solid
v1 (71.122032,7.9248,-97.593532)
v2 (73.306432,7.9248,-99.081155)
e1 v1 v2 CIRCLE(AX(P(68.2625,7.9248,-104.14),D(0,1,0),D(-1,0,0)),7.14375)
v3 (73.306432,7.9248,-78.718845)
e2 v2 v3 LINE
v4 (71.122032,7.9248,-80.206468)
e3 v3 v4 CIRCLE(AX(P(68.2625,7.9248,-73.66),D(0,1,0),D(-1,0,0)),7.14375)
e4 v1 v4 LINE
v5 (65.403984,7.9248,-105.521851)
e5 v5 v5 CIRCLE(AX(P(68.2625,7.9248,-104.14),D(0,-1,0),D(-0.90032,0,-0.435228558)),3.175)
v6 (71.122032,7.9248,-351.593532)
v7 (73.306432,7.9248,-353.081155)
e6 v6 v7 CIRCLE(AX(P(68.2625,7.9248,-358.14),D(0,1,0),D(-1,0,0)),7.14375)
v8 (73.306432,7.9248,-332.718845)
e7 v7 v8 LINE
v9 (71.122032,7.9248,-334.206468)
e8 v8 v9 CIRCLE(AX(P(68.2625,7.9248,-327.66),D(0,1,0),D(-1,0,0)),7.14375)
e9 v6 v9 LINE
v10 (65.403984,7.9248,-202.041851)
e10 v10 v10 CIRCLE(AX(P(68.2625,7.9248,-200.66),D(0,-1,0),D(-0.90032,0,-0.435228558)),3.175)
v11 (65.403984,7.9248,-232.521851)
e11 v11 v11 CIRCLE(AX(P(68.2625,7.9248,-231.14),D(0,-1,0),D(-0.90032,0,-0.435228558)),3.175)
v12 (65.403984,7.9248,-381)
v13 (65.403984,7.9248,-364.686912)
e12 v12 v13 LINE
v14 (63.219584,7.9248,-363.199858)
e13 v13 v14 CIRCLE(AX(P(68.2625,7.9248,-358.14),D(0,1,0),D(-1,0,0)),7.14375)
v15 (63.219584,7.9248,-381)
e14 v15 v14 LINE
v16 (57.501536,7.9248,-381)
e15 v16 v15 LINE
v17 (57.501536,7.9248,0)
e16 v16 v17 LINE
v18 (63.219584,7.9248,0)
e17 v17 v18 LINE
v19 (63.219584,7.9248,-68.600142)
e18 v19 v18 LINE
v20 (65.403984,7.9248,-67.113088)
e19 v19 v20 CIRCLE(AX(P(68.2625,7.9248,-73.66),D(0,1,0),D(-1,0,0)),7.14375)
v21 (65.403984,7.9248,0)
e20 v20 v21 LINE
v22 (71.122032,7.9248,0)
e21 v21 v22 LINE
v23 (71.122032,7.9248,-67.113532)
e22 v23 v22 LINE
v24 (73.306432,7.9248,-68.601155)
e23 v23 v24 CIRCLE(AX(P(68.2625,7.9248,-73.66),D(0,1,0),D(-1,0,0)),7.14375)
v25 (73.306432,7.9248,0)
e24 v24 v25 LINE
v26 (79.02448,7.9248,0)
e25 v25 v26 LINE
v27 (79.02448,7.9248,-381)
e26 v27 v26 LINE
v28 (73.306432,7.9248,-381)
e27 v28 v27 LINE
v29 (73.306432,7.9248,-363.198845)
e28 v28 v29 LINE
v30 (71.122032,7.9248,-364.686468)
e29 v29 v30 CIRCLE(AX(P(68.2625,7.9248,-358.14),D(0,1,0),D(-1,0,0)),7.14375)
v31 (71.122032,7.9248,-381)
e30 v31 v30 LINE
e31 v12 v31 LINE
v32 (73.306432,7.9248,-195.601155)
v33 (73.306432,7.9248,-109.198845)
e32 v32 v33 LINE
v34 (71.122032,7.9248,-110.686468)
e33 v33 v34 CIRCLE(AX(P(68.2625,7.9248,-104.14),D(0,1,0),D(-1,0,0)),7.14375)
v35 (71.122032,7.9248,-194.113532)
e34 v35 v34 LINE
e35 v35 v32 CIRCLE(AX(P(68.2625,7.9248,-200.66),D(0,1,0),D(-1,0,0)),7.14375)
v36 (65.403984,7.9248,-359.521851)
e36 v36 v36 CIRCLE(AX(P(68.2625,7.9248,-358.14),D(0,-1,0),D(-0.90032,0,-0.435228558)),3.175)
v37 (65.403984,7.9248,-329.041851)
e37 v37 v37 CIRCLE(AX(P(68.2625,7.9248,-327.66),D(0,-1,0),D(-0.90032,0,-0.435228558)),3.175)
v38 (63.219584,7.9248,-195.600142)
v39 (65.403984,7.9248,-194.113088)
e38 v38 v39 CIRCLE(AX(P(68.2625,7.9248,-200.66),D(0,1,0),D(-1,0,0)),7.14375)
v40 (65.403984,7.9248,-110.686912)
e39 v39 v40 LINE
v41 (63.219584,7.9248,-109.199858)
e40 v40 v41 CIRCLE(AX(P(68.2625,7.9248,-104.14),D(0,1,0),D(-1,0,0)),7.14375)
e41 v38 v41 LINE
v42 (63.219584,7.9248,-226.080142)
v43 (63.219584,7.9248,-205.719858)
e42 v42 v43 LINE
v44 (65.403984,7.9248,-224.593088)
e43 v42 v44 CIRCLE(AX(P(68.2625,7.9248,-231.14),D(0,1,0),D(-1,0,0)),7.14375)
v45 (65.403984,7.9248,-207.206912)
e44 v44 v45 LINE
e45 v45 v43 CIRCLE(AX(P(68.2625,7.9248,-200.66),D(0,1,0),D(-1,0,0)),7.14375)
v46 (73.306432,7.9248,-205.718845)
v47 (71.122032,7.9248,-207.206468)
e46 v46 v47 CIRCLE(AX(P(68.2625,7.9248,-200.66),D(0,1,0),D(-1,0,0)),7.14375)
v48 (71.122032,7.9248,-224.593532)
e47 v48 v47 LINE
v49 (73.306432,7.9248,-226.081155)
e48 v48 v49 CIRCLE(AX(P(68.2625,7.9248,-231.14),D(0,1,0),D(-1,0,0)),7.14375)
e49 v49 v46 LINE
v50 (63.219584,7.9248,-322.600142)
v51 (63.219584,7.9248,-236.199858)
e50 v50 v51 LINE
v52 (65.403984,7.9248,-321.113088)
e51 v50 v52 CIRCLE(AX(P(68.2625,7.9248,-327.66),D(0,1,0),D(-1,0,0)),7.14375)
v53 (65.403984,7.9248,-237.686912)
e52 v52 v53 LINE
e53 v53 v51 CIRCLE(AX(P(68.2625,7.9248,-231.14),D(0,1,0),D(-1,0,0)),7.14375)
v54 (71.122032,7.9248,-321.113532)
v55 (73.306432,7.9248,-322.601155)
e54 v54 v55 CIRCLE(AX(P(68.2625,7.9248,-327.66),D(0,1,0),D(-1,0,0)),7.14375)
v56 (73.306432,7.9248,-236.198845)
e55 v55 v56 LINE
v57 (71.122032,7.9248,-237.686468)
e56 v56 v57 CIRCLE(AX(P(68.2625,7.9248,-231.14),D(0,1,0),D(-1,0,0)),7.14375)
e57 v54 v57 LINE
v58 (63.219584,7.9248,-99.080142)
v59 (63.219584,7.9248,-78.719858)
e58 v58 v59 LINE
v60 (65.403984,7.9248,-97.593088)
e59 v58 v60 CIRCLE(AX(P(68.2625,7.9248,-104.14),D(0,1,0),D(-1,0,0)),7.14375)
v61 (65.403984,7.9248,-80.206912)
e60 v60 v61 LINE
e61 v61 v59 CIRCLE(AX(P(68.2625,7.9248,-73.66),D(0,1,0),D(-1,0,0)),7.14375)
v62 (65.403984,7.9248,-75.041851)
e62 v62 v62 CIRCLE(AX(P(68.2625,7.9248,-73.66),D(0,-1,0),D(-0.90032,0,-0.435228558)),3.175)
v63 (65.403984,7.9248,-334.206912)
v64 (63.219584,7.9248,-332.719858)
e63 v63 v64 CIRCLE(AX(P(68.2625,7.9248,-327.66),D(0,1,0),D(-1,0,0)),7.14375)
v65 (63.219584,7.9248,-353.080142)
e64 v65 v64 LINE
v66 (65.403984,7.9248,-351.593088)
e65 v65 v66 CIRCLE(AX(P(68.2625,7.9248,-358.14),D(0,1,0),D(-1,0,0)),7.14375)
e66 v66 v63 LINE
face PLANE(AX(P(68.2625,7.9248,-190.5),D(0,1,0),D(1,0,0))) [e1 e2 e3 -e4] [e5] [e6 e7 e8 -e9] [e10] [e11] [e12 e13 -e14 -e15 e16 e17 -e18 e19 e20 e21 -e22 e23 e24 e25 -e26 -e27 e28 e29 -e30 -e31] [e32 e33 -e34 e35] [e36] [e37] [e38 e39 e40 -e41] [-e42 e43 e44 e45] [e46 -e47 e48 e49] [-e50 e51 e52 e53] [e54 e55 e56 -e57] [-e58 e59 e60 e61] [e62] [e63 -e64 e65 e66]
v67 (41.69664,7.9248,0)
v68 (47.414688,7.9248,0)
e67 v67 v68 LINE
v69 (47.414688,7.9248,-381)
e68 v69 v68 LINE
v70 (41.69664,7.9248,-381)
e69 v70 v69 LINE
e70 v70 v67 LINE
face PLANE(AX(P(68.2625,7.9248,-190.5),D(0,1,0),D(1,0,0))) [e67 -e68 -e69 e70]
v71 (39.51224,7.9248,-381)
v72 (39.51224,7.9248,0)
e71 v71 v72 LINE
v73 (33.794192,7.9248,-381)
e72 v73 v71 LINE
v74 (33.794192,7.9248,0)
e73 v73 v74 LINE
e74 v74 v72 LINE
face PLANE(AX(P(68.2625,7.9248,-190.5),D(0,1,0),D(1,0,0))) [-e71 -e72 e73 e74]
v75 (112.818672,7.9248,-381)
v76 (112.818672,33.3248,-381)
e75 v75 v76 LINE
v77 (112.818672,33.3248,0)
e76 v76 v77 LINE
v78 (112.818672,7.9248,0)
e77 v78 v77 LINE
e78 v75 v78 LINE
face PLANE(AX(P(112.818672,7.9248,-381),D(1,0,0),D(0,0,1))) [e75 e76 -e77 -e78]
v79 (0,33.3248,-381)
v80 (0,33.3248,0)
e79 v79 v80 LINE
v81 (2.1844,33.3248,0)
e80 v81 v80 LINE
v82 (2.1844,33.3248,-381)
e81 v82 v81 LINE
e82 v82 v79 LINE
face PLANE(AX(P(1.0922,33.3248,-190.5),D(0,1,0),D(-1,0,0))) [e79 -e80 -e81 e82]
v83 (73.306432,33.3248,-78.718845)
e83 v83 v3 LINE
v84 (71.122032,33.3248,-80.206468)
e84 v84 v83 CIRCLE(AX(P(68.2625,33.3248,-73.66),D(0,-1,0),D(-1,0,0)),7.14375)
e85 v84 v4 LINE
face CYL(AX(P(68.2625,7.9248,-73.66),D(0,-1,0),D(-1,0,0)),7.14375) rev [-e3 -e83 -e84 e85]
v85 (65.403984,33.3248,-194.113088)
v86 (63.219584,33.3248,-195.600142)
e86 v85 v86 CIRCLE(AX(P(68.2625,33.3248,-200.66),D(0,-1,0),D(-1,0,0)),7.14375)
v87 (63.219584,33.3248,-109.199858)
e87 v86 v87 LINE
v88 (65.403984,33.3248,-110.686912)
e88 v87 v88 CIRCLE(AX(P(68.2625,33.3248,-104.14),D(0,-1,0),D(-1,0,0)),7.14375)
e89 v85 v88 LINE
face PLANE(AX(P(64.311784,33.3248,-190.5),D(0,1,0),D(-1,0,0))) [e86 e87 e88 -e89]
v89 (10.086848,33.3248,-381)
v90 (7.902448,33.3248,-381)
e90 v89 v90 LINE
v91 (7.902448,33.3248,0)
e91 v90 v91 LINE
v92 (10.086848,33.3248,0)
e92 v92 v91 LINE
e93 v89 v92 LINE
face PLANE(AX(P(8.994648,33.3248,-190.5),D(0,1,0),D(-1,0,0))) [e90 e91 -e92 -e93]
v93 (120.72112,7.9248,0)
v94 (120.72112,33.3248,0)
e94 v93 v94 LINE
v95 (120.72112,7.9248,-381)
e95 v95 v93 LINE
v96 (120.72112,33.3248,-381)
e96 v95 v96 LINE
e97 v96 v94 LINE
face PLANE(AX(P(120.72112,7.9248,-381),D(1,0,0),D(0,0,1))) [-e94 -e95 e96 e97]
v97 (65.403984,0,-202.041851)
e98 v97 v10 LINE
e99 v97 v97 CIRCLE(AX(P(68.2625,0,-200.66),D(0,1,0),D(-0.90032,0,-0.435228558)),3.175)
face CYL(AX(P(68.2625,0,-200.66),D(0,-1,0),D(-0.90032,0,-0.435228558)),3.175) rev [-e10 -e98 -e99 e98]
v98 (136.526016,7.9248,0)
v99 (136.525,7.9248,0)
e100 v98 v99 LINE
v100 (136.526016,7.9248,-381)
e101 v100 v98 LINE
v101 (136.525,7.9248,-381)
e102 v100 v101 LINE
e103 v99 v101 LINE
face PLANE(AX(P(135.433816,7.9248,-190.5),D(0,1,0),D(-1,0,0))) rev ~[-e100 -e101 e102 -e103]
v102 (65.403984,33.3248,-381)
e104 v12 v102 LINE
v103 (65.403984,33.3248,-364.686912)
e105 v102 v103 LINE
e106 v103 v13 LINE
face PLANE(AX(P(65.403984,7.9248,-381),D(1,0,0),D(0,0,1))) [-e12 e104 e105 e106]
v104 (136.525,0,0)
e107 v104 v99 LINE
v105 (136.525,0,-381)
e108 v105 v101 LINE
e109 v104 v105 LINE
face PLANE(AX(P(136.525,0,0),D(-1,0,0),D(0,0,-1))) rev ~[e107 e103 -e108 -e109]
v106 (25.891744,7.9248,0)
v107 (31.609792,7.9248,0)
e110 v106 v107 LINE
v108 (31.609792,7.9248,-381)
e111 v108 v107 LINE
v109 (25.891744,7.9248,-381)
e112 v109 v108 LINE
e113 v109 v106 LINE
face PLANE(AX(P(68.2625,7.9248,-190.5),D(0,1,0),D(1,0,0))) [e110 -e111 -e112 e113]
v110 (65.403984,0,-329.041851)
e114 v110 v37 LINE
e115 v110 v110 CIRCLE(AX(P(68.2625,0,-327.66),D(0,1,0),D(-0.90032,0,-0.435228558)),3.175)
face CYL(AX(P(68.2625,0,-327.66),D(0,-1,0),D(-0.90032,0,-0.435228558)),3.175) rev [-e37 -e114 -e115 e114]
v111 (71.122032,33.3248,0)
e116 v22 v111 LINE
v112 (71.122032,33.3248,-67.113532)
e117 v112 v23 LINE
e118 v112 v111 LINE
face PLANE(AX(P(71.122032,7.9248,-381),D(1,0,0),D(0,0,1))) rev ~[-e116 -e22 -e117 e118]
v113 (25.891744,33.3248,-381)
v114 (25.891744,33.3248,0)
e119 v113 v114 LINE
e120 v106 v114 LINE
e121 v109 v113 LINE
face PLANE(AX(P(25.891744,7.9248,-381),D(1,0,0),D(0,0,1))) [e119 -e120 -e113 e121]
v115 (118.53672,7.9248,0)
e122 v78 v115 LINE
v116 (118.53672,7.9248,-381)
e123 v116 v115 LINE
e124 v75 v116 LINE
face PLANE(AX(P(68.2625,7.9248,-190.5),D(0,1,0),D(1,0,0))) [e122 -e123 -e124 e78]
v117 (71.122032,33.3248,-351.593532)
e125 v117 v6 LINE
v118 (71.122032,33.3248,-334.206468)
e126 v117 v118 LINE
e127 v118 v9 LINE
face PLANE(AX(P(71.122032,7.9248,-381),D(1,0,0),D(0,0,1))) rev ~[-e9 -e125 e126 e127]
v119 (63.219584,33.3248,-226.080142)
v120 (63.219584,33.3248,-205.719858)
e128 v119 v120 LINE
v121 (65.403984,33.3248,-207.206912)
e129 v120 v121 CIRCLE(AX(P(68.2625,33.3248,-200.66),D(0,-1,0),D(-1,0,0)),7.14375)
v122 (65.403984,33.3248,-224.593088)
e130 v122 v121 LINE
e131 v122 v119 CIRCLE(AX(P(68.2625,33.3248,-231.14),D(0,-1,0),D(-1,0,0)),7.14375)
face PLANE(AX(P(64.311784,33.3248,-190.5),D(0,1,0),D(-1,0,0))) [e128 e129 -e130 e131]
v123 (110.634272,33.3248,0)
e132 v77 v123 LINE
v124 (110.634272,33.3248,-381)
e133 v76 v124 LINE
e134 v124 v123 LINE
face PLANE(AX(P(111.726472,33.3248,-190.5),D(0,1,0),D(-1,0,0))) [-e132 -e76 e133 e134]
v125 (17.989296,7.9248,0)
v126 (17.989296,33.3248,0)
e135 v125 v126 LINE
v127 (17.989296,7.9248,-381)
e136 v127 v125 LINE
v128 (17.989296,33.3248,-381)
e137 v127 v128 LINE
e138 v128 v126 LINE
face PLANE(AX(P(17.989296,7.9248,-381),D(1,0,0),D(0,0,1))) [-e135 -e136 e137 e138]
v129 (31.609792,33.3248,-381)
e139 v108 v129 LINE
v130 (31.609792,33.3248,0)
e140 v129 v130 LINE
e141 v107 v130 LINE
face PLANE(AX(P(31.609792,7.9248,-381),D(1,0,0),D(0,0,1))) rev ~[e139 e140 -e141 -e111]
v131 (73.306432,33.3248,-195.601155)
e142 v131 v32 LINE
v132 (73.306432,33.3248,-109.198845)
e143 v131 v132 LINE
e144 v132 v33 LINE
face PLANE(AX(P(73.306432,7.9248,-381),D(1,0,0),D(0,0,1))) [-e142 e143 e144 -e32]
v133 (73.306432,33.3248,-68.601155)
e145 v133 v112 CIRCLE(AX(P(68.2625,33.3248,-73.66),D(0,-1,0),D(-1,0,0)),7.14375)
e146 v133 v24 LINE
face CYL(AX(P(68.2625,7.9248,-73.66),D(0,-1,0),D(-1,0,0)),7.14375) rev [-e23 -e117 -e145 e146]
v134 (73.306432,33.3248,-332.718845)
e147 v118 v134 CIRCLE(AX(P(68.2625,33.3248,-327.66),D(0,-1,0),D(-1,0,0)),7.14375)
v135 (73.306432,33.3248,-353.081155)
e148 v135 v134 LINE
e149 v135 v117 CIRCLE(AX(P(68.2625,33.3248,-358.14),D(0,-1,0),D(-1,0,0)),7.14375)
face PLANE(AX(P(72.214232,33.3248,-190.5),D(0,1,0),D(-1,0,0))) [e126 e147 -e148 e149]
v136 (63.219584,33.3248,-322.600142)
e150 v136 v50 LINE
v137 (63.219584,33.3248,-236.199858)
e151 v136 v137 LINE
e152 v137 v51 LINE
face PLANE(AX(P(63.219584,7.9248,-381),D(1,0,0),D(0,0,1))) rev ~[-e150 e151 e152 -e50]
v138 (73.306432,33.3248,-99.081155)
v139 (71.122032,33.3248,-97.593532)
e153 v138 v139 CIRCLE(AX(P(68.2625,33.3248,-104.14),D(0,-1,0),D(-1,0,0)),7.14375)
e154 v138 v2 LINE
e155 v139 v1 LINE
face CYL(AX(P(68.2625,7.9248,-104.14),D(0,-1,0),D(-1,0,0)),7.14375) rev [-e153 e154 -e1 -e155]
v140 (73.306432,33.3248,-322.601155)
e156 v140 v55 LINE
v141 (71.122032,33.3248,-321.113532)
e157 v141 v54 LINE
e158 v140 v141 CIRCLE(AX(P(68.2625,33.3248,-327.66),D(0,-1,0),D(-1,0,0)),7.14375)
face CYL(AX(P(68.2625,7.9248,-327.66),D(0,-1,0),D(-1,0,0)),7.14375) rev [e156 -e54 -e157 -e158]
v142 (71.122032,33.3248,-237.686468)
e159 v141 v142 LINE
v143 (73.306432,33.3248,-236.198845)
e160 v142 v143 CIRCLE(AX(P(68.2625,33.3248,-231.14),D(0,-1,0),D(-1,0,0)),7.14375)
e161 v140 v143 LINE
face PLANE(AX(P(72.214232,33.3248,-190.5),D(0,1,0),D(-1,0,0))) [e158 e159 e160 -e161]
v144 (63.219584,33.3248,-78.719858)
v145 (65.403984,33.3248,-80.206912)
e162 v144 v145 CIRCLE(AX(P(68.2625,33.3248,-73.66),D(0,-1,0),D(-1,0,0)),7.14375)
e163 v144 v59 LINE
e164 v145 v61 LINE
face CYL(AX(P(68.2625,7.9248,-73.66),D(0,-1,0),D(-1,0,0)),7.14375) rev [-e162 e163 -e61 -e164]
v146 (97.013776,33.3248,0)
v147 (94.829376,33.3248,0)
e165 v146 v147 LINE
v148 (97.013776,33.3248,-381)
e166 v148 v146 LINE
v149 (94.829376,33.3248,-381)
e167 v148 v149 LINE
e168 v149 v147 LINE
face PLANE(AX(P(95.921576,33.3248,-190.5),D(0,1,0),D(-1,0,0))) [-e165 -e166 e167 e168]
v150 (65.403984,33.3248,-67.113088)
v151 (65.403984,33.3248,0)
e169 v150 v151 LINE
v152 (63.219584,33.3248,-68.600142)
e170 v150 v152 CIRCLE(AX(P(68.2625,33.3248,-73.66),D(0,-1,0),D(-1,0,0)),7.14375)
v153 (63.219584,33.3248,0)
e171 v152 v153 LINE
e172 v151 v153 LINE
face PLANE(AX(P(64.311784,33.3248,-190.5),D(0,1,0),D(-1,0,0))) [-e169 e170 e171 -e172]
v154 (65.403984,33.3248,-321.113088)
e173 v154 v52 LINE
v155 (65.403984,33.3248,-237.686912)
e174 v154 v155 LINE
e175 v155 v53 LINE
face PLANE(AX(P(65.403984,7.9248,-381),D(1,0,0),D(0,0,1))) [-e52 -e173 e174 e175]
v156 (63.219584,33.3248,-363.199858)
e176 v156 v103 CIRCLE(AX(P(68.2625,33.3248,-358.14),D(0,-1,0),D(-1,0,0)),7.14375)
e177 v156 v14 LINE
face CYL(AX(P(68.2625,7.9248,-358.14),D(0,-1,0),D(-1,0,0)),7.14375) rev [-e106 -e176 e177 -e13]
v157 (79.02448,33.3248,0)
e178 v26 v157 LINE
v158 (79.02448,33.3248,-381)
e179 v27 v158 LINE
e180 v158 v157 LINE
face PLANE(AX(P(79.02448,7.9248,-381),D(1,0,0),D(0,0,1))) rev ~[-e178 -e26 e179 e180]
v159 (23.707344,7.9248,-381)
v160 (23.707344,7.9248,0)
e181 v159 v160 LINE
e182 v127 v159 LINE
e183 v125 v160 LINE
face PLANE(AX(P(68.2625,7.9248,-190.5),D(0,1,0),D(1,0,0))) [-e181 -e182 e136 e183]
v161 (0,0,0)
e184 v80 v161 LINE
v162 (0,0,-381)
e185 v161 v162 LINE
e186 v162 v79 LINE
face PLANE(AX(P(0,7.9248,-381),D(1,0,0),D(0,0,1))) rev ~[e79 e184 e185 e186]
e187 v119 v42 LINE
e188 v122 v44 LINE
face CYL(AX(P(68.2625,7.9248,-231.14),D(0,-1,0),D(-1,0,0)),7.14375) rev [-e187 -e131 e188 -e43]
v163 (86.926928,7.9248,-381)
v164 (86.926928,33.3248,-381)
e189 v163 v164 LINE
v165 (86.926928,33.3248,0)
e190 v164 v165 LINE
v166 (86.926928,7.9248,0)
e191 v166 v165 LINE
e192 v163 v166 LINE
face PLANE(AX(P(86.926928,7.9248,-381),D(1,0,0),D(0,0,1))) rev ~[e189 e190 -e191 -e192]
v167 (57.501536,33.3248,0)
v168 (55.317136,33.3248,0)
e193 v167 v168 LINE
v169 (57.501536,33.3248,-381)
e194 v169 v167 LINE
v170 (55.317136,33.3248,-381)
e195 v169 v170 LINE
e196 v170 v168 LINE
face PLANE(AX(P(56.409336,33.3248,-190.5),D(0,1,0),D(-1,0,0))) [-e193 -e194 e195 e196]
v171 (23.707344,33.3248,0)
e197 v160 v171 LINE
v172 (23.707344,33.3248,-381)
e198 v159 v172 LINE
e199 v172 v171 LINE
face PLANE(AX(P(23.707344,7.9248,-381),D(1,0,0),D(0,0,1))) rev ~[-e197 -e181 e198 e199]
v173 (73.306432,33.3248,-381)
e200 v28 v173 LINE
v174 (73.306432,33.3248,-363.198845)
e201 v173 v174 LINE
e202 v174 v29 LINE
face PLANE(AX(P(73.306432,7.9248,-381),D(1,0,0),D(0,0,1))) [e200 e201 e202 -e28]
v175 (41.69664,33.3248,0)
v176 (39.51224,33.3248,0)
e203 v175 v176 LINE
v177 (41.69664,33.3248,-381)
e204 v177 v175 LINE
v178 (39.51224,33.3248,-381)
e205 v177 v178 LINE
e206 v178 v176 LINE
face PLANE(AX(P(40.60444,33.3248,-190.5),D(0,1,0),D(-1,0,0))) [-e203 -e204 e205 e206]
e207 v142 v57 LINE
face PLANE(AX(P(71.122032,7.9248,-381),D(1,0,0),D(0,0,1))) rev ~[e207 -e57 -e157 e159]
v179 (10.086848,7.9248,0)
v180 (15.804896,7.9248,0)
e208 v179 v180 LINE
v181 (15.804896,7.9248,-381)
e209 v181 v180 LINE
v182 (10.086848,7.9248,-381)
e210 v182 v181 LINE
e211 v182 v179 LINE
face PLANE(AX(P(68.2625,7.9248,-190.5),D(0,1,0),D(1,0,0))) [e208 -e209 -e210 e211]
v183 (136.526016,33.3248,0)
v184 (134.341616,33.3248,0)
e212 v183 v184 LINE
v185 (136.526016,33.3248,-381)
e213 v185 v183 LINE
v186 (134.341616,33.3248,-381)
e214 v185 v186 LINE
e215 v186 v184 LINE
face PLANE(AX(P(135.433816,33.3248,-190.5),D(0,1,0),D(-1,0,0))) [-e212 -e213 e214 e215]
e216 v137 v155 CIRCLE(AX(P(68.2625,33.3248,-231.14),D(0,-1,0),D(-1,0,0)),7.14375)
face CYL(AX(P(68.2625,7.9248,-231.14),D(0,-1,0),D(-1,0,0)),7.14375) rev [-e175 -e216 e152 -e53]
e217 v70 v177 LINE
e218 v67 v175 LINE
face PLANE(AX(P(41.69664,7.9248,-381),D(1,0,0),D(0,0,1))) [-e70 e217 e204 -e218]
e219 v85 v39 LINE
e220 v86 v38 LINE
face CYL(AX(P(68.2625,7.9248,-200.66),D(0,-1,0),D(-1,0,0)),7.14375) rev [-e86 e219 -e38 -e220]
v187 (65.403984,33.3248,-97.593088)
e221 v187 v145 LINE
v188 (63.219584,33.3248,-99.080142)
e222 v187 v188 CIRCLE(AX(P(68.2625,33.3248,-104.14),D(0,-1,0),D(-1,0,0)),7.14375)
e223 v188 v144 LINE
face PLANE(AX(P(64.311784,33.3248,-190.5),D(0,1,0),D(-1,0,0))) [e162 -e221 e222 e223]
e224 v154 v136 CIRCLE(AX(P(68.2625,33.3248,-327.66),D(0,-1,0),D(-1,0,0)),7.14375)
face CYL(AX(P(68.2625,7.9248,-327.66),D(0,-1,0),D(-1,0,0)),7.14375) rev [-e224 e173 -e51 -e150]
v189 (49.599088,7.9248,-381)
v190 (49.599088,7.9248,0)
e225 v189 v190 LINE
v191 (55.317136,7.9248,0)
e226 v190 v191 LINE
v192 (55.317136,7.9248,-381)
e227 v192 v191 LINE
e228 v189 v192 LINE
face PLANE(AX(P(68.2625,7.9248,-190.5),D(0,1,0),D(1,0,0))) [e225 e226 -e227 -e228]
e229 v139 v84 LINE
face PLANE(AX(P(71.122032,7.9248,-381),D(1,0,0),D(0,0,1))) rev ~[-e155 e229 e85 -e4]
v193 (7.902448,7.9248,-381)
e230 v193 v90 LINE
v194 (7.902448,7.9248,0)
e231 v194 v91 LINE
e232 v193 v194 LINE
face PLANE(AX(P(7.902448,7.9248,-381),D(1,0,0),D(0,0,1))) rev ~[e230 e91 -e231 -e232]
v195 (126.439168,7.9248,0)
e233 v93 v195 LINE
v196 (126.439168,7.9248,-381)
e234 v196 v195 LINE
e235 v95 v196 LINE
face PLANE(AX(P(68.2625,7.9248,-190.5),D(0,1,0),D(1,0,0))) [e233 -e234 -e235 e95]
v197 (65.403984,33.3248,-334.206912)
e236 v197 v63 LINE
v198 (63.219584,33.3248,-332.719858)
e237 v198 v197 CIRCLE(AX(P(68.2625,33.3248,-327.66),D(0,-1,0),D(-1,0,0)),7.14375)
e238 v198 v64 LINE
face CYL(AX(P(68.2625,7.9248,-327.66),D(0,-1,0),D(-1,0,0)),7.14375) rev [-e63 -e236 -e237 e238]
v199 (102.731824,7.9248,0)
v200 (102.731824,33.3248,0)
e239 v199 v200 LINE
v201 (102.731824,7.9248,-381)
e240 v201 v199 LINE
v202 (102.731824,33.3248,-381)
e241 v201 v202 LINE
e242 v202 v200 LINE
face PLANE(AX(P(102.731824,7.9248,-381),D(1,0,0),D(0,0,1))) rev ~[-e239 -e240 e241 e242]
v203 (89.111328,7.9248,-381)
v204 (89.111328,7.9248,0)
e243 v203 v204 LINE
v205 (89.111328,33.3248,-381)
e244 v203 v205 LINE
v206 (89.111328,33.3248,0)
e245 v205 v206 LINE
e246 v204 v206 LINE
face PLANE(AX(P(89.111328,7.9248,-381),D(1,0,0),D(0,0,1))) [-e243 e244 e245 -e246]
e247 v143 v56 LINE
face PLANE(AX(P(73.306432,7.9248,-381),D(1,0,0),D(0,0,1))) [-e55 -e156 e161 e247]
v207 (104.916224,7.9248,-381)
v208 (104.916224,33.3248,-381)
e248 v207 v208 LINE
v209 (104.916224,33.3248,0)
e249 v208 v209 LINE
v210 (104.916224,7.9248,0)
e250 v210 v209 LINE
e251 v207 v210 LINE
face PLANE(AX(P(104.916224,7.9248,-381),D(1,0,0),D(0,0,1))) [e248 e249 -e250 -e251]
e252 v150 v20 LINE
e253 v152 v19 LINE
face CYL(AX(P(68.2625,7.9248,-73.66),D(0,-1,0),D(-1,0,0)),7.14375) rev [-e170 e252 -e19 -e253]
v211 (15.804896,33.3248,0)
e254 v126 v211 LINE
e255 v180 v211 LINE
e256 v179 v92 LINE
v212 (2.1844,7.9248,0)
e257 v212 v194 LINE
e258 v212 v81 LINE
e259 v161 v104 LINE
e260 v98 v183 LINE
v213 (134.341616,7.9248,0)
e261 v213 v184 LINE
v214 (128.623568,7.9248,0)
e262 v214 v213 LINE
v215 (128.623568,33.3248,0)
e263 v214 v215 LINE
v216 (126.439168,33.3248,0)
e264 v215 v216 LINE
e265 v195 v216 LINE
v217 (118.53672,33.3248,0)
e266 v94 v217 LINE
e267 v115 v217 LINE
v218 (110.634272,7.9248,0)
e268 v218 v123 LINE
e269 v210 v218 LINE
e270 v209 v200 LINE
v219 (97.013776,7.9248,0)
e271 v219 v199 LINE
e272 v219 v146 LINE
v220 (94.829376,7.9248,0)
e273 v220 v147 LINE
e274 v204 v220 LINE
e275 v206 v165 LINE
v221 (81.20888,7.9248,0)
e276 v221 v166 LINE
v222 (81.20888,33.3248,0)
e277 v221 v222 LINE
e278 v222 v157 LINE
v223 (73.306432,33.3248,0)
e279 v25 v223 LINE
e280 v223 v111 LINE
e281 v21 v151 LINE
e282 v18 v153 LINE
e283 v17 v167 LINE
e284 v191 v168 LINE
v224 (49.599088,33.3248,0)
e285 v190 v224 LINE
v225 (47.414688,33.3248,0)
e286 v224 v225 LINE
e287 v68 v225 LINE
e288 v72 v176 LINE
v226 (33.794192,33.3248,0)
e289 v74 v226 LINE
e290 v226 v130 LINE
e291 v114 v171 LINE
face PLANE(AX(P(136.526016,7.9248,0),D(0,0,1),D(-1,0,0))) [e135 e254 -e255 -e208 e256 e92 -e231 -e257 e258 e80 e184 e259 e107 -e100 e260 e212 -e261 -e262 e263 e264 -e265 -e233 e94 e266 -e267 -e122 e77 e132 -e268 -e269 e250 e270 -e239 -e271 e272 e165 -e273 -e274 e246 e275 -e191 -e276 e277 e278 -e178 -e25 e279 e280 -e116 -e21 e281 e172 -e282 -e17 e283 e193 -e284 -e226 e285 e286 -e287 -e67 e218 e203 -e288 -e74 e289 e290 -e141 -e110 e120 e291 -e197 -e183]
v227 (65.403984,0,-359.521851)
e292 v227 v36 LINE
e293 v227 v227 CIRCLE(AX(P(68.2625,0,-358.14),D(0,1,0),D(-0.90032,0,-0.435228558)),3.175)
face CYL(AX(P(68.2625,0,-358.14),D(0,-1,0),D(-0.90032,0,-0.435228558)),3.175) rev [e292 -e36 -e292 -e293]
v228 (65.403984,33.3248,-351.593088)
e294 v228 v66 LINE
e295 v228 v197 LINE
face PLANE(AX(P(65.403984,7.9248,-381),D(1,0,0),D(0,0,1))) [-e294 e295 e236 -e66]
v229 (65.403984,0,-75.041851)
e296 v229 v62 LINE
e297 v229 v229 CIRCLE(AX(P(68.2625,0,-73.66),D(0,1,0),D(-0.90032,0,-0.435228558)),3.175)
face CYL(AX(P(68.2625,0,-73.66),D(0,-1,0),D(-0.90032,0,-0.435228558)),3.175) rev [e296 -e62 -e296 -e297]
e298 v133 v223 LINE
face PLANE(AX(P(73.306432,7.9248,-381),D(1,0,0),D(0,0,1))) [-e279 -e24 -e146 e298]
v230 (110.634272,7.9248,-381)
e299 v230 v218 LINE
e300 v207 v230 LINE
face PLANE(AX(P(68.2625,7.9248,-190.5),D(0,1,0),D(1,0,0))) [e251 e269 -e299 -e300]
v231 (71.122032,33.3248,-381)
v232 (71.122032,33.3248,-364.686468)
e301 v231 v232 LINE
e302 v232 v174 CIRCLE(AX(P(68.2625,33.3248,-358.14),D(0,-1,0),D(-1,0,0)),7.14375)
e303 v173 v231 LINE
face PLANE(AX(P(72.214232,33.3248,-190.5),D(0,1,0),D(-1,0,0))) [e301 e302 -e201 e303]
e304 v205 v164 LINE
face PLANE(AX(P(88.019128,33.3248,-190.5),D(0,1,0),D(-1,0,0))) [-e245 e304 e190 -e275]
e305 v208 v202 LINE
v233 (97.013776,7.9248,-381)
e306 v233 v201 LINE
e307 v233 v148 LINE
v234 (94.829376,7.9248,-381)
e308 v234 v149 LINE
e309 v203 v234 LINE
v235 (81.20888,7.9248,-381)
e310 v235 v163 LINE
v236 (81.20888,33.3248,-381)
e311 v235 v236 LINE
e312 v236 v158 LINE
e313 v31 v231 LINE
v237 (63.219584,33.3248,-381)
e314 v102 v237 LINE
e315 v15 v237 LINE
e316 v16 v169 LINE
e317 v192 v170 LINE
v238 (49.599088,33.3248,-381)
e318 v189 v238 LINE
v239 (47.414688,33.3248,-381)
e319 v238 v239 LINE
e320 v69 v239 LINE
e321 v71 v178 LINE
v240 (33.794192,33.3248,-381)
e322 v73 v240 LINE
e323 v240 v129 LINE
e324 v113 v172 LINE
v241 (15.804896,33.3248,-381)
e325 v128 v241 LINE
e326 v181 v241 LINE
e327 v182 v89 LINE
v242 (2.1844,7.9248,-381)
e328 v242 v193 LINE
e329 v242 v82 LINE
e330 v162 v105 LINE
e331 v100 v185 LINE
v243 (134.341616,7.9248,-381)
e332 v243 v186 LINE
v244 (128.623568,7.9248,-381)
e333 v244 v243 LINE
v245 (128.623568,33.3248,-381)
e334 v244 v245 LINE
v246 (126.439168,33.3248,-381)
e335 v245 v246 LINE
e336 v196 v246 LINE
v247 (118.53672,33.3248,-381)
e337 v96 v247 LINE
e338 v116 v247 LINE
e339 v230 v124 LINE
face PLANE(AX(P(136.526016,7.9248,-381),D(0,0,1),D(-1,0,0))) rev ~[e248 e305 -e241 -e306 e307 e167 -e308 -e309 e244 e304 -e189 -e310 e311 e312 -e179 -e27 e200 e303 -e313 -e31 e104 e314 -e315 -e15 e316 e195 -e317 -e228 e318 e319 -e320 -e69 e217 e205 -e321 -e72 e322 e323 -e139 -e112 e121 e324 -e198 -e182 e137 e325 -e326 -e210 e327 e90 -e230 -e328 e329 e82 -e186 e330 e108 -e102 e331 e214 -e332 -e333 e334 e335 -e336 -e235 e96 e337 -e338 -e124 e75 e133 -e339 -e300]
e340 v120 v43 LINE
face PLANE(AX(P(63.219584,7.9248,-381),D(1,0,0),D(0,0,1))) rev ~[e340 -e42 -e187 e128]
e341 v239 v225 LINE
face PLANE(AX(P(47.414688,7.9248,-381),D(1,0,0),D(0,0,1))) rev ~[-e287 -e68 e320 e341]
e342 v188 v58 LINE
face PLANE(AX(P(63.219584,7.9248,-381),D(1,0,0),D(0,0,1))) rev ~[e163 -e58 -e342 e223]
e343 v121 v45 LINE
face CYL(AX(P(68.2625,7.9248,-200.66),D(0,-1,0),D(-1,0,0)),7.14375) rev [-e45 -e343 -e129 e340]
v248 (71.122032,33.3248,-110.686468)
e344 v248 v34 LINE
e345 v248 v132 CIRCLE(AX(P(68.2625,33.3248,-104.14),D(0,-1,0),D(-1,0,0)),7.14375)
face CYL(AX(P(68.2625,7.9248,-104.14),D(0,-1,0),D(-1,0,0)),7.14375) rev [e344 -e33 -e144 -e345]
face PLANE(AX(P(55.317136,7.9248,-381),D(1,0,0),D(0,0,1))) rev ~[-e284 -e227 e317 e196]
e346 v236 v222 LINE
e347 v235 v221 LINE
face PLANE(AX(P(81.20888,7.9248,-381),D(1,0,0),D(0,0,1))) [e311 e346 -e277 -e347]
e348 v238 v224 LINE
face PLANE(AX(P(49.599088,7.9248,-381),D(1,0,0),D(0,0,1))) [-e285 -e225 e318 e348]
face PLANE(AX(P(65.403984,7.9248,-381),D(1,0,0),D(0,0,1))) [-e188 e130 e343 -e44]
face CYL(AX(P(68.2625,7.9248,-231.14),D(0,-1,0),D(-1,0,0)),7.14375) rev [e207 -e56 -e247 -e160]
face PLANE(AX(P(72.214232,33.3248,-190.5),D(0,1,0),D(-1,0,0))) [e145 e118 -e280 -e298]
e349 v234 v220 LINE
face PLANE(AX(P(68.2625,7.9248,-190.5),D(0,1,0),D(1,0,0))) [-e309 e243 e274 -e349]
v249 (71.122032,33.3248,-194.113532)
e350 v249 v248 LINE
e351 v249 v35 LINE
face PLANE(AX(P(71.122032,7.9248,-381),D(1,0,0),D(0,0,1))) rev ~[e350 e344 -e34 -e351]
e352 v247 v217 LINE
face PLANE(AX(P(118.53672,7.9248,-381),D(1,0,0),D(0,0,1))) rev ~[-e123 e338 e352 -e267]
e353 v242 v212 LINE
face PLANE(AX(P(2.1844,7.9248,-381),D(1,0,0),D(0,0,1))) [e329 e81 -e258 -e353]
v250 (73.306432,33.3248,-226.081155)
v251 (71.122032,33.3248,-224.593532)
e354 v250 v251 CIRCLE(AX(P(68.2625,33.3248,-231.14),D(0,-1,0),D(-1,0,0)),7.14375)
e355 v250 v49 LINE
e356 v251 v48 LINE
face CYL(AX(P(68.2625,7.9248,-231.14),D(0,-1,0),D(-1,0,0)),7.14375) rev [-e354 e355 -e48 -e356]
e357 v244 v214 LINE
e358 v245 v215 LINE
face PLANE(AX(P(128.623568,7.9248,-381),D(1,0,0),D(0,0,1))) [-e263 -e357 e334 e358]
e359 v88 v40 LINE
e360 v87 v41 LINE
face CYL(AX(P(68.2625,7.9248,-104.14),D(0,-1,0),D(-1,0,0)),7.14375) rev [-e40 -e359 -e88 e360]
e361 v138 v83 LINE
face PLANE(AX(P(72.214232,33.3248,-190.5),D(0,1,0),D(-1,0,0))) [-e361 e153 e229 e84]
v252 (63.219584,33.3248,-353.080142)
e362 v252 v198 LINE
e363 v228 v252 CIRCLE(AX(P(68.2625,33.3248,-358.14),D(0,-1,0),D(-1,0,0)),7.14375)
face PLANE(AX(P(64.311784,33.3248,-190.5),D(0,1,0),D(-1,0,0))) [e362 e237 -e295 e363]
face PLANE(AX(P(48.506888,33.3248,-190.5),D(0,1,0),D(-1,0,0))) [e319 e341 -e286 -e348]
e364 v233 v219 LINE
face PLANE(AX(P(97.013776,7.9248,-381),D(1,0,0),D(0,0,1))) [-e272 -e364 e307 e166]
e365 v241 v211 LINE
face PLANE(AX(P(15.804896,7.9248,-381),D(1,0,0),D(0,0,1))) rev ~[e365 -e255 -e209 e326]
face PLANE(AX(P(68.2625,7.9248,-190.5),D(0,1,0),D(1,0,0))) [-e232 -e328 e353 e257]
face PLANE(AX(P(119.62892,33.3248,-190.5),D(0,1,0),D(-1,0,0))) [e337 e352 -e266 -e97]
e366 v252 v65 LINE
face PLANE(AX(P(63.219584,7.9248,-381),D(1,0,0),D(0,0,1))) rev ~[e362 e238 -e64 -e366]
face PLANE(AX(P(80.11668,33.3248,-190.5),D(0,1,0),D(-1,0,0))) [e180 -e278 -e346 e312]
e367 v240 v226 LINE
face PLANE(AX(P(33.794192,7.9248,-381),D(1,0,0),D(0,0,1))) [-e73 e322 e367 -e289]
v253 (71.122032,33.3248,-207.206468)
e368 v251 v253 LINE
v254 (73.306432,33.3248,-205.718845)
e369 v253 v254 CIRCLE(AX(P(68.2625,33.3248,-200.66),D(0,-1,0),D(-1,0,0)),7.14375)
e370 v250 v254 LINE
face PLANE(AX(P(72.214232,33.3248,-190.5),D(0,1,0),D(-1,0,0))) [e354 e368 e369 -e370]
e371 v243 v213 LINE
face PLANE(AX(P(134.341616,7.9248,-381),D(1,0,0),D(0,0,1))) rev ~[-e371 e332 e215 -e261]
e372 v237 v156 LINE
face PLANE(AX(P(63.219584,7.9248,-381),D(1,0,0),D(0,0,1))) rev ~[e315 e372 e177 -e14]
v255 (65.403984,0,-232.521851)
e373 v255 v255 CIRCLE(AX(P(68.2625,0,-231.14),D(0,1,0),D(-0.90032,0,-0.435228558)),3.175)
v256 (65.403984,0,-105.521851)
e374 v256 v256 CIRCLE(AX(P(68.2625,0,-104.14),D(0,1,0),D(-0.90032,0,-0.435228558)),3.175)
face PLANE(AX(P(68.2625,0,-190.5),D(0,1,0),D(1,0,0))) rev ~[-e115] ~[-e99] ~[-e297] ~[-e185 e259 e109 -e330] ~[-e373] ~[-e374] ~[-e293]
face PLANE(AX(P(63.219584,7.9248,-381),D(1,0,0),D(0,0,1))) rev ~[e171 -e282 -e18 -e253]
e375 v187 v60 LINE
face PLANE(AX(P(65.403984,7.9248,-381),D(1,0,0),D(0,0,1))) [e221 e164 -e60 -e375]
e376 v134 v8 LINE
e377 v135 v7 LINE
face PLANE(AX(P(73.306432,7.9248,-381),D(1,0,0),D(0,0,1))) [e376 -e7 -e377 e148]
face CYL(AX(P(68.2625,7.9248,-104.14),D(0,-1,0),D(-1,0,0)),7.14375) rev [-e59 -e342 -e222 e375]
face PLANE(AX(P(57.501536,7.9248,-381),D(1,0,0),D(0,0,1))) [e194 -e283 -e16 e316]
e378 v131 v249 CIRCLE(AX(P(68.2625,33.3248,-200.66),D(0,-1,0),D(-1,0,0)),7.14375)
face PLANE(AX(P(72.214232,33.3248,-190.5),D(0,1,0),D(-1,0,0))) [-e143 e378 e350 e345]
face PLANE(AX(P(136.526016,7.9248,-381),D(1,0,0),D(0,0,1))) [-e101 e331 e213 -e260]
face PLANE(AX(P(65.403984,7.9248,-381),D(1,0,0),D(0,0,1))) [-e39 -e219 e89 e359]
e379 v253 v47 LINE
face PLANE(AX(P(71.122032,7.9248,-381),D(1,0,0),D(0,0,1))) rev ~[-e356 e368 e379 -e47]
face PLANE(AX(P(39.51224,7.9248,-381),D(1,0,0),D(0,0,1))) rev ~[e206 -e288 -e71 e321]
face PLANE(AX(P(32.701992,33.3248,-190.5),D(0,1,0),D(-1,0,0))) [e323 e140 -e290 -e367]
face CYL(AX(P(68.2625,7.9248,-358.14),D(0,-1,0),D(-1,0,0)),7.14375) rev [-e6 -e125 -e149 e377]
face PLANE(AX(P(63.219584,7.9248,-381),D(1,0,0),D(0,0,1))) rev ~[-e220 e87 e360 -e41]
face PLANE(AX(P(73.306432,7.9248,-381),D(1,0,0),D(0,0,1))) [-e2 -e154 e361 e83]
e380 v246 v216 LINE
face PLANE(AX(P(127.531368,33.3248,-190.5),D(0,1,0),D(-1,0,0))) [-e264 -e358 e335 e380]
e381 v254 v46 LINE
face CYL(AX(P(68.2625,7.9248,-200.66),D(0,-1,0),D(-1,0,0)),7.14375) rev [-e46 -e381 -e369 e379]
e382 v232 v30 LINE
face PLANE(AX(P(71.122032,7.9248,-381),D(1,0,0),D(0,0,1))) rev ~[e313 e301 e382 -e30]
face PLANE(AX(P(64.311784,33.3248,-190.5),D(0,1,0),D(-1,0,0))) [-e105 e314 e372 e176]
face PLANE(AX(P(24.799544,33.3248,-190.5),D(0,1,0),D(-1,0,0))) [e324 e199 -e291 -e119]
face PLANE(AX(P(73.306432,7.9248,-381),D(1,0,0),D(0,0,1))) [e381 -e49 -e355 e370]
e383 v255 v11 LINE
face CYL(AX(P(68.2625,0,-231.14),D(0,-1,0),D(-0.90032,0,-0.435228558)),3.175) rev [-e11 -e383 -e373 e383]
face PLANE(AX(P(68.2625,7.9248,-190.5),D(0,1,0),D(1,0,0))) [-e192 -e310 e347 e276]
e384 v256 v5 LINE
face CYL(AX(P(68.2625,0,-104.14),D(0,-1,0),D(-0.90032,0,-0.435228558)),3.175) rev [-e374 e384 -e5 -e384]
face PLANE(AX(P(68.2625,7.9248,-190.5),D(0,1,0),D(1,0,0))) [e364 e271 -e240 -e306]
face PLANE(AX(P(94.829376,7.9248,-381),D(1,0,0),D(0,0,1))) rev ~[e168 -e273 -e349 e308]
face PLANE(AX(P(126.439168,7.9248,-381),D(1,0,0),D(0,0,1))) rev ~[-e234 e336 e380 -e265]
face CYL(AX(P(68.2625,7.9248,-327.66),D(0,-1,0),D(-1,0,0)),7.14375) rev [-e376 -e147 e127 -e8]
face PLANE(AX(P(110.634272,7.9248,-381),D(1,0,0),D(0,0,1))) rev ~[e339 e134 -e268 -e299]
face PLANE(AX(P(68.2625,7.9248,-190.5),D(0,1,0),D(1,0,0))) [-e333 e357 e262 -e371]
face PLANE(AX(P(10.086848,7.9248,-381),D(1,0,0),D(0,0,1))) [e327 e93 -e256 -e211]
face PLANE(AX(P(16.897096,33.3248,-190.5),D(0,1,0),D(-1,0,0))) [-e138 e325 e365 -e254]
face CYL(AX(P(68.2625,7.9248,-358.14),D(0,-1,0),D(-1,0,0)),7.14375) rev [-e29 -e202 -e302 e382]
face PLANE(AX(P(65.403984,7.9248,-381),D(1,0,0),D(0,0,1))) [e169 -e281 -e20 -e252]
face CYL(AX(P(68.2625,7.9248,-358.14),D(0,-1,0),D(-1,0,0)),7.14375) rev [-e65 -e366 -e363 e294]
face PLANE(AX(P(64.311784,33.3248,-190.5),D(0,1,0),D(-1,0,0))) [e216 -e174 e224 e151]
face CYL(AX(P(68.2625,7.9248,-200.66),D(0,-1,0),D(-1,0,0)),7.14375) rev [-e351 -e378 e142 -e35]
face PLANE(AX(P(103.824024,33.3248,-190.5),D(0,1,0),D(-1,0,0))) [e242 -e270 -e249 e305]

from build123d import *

# Parameters (mm, degrees)
SKETCH1_W          = 136.525
SKETCH1_H          = 381
EXTRUDE1_DEPTH     = 7.9248
SKETCH4_W          = 2.1844
SKETCH4_H          = 381
EXTRUDE2_DEPTH     = 25.4
LPATTERN1_COUNT    = 18
LPATTERN1_PITCH    = 7.902448
SKETCH6_R          = 3.175
CUT_EXTRUDE2_DEPTH = 10.16
SKETCH7_R          = 7.14375
CUT_EXTRUDE3_DEPTH = 406.518819594


with BuildPart() as part:
    # Sketch1 → Extrude1 (new body)
    with BuildSketch(Plane(origin=(0, 0, 0), x_dir=(1, 0, 0), z_dir=(0, 1, 0))):
        with Locations((68.2625, 190.5)):
            Rectangle(SKETCH1_W, SKETCH1_H)
    extrude(amount=EXTRUDE1_DEPTH)

    # Sketch4 → Extrude2 (add)
    with BuildSketch(Plane(origin=(0, 7.9248, 0), x_dir=(-1, 0, 0), z_dir=(0, 1, 0))):
        with Locations((-1.0922, -190.5)):
            Rectangle(SKETCH4_W, SKETCH4_H)
    extrude2 = extrude(amount=EXTRUDE2_DEPTH)

    # LPattern1: Extrude2 ×18
    with Locations(*[(i * LPATTERN1_PITCH, 0, 0) for i in range(1, LPATTERN1_COUNT)]):
        add(extrude2)

    # Sketch6 → Cut-Extrude2 (cut)
    with BuildSketch(Plane(origin=(0, 0, 0), x_dir=(1, 0, 0), z_dir=(0, 1, 0))):
        with Locations(Location((68.2625, 358.14, 0), (0, 0, 154.200161739))):
            Circle(SKETCH6_R)
        with Locations(Location((68.2625, 327.66, 0), (0, 0, 154.200161739))):
            Circle(SKETCH6_R)
        with Locations(Location((68.2625, 200.66, 0), (0, 0, 154.200161739))):
            Circle(SKETCH6_R)
        with Locations(Location((68.2625, 231.14, 0), (0, 0, 154.200161739))):
            Circle(SKETCH6_R)
        with Locations(Location((68.2625, 73.66, 0), (0, 0, 154.200161739))):
            Circle(SKETCH6_R)
        with Locations(Location((68.2625, 104.14, 0), (0, 0, 154.200161739))):
            Circle(SKETCH6_R)
    extrude(amount=CUT_EXTRUDE2_DEPTH, mode=Mode.SUBTRACT)

    # Sketch7 → Cut-Extrude3 (cut, through all)
    with BuildSketch(Plane(origin=(0, 7.9248, 0), x_dir=(-1, 0, 0), z_dir=(0, 1, 0))):
        with Locations((-68.2625, -358.14)):
            Circle(SKETCH7_R)
        with Locations((-68.2625, -327.66)):
            Circle(SKETCH7_R)
        with Locations((-68.2625, -231.14)):
            Circle(SKETCH7_R)
        with Locations((-68.2625, -200.66)):
            Circle(SKETCH7_R)
        with Locations((-68.2625, -73.66)):
            Circle(SKETCH7_R)
        with Locations((-68.2625, -104.14)):
            Circle(SKETCH7_R)
    extrude(amount=CUT_EXTRUDE3_DEPTH, mode=Mode.SUBTRACT)


solid = part.part
